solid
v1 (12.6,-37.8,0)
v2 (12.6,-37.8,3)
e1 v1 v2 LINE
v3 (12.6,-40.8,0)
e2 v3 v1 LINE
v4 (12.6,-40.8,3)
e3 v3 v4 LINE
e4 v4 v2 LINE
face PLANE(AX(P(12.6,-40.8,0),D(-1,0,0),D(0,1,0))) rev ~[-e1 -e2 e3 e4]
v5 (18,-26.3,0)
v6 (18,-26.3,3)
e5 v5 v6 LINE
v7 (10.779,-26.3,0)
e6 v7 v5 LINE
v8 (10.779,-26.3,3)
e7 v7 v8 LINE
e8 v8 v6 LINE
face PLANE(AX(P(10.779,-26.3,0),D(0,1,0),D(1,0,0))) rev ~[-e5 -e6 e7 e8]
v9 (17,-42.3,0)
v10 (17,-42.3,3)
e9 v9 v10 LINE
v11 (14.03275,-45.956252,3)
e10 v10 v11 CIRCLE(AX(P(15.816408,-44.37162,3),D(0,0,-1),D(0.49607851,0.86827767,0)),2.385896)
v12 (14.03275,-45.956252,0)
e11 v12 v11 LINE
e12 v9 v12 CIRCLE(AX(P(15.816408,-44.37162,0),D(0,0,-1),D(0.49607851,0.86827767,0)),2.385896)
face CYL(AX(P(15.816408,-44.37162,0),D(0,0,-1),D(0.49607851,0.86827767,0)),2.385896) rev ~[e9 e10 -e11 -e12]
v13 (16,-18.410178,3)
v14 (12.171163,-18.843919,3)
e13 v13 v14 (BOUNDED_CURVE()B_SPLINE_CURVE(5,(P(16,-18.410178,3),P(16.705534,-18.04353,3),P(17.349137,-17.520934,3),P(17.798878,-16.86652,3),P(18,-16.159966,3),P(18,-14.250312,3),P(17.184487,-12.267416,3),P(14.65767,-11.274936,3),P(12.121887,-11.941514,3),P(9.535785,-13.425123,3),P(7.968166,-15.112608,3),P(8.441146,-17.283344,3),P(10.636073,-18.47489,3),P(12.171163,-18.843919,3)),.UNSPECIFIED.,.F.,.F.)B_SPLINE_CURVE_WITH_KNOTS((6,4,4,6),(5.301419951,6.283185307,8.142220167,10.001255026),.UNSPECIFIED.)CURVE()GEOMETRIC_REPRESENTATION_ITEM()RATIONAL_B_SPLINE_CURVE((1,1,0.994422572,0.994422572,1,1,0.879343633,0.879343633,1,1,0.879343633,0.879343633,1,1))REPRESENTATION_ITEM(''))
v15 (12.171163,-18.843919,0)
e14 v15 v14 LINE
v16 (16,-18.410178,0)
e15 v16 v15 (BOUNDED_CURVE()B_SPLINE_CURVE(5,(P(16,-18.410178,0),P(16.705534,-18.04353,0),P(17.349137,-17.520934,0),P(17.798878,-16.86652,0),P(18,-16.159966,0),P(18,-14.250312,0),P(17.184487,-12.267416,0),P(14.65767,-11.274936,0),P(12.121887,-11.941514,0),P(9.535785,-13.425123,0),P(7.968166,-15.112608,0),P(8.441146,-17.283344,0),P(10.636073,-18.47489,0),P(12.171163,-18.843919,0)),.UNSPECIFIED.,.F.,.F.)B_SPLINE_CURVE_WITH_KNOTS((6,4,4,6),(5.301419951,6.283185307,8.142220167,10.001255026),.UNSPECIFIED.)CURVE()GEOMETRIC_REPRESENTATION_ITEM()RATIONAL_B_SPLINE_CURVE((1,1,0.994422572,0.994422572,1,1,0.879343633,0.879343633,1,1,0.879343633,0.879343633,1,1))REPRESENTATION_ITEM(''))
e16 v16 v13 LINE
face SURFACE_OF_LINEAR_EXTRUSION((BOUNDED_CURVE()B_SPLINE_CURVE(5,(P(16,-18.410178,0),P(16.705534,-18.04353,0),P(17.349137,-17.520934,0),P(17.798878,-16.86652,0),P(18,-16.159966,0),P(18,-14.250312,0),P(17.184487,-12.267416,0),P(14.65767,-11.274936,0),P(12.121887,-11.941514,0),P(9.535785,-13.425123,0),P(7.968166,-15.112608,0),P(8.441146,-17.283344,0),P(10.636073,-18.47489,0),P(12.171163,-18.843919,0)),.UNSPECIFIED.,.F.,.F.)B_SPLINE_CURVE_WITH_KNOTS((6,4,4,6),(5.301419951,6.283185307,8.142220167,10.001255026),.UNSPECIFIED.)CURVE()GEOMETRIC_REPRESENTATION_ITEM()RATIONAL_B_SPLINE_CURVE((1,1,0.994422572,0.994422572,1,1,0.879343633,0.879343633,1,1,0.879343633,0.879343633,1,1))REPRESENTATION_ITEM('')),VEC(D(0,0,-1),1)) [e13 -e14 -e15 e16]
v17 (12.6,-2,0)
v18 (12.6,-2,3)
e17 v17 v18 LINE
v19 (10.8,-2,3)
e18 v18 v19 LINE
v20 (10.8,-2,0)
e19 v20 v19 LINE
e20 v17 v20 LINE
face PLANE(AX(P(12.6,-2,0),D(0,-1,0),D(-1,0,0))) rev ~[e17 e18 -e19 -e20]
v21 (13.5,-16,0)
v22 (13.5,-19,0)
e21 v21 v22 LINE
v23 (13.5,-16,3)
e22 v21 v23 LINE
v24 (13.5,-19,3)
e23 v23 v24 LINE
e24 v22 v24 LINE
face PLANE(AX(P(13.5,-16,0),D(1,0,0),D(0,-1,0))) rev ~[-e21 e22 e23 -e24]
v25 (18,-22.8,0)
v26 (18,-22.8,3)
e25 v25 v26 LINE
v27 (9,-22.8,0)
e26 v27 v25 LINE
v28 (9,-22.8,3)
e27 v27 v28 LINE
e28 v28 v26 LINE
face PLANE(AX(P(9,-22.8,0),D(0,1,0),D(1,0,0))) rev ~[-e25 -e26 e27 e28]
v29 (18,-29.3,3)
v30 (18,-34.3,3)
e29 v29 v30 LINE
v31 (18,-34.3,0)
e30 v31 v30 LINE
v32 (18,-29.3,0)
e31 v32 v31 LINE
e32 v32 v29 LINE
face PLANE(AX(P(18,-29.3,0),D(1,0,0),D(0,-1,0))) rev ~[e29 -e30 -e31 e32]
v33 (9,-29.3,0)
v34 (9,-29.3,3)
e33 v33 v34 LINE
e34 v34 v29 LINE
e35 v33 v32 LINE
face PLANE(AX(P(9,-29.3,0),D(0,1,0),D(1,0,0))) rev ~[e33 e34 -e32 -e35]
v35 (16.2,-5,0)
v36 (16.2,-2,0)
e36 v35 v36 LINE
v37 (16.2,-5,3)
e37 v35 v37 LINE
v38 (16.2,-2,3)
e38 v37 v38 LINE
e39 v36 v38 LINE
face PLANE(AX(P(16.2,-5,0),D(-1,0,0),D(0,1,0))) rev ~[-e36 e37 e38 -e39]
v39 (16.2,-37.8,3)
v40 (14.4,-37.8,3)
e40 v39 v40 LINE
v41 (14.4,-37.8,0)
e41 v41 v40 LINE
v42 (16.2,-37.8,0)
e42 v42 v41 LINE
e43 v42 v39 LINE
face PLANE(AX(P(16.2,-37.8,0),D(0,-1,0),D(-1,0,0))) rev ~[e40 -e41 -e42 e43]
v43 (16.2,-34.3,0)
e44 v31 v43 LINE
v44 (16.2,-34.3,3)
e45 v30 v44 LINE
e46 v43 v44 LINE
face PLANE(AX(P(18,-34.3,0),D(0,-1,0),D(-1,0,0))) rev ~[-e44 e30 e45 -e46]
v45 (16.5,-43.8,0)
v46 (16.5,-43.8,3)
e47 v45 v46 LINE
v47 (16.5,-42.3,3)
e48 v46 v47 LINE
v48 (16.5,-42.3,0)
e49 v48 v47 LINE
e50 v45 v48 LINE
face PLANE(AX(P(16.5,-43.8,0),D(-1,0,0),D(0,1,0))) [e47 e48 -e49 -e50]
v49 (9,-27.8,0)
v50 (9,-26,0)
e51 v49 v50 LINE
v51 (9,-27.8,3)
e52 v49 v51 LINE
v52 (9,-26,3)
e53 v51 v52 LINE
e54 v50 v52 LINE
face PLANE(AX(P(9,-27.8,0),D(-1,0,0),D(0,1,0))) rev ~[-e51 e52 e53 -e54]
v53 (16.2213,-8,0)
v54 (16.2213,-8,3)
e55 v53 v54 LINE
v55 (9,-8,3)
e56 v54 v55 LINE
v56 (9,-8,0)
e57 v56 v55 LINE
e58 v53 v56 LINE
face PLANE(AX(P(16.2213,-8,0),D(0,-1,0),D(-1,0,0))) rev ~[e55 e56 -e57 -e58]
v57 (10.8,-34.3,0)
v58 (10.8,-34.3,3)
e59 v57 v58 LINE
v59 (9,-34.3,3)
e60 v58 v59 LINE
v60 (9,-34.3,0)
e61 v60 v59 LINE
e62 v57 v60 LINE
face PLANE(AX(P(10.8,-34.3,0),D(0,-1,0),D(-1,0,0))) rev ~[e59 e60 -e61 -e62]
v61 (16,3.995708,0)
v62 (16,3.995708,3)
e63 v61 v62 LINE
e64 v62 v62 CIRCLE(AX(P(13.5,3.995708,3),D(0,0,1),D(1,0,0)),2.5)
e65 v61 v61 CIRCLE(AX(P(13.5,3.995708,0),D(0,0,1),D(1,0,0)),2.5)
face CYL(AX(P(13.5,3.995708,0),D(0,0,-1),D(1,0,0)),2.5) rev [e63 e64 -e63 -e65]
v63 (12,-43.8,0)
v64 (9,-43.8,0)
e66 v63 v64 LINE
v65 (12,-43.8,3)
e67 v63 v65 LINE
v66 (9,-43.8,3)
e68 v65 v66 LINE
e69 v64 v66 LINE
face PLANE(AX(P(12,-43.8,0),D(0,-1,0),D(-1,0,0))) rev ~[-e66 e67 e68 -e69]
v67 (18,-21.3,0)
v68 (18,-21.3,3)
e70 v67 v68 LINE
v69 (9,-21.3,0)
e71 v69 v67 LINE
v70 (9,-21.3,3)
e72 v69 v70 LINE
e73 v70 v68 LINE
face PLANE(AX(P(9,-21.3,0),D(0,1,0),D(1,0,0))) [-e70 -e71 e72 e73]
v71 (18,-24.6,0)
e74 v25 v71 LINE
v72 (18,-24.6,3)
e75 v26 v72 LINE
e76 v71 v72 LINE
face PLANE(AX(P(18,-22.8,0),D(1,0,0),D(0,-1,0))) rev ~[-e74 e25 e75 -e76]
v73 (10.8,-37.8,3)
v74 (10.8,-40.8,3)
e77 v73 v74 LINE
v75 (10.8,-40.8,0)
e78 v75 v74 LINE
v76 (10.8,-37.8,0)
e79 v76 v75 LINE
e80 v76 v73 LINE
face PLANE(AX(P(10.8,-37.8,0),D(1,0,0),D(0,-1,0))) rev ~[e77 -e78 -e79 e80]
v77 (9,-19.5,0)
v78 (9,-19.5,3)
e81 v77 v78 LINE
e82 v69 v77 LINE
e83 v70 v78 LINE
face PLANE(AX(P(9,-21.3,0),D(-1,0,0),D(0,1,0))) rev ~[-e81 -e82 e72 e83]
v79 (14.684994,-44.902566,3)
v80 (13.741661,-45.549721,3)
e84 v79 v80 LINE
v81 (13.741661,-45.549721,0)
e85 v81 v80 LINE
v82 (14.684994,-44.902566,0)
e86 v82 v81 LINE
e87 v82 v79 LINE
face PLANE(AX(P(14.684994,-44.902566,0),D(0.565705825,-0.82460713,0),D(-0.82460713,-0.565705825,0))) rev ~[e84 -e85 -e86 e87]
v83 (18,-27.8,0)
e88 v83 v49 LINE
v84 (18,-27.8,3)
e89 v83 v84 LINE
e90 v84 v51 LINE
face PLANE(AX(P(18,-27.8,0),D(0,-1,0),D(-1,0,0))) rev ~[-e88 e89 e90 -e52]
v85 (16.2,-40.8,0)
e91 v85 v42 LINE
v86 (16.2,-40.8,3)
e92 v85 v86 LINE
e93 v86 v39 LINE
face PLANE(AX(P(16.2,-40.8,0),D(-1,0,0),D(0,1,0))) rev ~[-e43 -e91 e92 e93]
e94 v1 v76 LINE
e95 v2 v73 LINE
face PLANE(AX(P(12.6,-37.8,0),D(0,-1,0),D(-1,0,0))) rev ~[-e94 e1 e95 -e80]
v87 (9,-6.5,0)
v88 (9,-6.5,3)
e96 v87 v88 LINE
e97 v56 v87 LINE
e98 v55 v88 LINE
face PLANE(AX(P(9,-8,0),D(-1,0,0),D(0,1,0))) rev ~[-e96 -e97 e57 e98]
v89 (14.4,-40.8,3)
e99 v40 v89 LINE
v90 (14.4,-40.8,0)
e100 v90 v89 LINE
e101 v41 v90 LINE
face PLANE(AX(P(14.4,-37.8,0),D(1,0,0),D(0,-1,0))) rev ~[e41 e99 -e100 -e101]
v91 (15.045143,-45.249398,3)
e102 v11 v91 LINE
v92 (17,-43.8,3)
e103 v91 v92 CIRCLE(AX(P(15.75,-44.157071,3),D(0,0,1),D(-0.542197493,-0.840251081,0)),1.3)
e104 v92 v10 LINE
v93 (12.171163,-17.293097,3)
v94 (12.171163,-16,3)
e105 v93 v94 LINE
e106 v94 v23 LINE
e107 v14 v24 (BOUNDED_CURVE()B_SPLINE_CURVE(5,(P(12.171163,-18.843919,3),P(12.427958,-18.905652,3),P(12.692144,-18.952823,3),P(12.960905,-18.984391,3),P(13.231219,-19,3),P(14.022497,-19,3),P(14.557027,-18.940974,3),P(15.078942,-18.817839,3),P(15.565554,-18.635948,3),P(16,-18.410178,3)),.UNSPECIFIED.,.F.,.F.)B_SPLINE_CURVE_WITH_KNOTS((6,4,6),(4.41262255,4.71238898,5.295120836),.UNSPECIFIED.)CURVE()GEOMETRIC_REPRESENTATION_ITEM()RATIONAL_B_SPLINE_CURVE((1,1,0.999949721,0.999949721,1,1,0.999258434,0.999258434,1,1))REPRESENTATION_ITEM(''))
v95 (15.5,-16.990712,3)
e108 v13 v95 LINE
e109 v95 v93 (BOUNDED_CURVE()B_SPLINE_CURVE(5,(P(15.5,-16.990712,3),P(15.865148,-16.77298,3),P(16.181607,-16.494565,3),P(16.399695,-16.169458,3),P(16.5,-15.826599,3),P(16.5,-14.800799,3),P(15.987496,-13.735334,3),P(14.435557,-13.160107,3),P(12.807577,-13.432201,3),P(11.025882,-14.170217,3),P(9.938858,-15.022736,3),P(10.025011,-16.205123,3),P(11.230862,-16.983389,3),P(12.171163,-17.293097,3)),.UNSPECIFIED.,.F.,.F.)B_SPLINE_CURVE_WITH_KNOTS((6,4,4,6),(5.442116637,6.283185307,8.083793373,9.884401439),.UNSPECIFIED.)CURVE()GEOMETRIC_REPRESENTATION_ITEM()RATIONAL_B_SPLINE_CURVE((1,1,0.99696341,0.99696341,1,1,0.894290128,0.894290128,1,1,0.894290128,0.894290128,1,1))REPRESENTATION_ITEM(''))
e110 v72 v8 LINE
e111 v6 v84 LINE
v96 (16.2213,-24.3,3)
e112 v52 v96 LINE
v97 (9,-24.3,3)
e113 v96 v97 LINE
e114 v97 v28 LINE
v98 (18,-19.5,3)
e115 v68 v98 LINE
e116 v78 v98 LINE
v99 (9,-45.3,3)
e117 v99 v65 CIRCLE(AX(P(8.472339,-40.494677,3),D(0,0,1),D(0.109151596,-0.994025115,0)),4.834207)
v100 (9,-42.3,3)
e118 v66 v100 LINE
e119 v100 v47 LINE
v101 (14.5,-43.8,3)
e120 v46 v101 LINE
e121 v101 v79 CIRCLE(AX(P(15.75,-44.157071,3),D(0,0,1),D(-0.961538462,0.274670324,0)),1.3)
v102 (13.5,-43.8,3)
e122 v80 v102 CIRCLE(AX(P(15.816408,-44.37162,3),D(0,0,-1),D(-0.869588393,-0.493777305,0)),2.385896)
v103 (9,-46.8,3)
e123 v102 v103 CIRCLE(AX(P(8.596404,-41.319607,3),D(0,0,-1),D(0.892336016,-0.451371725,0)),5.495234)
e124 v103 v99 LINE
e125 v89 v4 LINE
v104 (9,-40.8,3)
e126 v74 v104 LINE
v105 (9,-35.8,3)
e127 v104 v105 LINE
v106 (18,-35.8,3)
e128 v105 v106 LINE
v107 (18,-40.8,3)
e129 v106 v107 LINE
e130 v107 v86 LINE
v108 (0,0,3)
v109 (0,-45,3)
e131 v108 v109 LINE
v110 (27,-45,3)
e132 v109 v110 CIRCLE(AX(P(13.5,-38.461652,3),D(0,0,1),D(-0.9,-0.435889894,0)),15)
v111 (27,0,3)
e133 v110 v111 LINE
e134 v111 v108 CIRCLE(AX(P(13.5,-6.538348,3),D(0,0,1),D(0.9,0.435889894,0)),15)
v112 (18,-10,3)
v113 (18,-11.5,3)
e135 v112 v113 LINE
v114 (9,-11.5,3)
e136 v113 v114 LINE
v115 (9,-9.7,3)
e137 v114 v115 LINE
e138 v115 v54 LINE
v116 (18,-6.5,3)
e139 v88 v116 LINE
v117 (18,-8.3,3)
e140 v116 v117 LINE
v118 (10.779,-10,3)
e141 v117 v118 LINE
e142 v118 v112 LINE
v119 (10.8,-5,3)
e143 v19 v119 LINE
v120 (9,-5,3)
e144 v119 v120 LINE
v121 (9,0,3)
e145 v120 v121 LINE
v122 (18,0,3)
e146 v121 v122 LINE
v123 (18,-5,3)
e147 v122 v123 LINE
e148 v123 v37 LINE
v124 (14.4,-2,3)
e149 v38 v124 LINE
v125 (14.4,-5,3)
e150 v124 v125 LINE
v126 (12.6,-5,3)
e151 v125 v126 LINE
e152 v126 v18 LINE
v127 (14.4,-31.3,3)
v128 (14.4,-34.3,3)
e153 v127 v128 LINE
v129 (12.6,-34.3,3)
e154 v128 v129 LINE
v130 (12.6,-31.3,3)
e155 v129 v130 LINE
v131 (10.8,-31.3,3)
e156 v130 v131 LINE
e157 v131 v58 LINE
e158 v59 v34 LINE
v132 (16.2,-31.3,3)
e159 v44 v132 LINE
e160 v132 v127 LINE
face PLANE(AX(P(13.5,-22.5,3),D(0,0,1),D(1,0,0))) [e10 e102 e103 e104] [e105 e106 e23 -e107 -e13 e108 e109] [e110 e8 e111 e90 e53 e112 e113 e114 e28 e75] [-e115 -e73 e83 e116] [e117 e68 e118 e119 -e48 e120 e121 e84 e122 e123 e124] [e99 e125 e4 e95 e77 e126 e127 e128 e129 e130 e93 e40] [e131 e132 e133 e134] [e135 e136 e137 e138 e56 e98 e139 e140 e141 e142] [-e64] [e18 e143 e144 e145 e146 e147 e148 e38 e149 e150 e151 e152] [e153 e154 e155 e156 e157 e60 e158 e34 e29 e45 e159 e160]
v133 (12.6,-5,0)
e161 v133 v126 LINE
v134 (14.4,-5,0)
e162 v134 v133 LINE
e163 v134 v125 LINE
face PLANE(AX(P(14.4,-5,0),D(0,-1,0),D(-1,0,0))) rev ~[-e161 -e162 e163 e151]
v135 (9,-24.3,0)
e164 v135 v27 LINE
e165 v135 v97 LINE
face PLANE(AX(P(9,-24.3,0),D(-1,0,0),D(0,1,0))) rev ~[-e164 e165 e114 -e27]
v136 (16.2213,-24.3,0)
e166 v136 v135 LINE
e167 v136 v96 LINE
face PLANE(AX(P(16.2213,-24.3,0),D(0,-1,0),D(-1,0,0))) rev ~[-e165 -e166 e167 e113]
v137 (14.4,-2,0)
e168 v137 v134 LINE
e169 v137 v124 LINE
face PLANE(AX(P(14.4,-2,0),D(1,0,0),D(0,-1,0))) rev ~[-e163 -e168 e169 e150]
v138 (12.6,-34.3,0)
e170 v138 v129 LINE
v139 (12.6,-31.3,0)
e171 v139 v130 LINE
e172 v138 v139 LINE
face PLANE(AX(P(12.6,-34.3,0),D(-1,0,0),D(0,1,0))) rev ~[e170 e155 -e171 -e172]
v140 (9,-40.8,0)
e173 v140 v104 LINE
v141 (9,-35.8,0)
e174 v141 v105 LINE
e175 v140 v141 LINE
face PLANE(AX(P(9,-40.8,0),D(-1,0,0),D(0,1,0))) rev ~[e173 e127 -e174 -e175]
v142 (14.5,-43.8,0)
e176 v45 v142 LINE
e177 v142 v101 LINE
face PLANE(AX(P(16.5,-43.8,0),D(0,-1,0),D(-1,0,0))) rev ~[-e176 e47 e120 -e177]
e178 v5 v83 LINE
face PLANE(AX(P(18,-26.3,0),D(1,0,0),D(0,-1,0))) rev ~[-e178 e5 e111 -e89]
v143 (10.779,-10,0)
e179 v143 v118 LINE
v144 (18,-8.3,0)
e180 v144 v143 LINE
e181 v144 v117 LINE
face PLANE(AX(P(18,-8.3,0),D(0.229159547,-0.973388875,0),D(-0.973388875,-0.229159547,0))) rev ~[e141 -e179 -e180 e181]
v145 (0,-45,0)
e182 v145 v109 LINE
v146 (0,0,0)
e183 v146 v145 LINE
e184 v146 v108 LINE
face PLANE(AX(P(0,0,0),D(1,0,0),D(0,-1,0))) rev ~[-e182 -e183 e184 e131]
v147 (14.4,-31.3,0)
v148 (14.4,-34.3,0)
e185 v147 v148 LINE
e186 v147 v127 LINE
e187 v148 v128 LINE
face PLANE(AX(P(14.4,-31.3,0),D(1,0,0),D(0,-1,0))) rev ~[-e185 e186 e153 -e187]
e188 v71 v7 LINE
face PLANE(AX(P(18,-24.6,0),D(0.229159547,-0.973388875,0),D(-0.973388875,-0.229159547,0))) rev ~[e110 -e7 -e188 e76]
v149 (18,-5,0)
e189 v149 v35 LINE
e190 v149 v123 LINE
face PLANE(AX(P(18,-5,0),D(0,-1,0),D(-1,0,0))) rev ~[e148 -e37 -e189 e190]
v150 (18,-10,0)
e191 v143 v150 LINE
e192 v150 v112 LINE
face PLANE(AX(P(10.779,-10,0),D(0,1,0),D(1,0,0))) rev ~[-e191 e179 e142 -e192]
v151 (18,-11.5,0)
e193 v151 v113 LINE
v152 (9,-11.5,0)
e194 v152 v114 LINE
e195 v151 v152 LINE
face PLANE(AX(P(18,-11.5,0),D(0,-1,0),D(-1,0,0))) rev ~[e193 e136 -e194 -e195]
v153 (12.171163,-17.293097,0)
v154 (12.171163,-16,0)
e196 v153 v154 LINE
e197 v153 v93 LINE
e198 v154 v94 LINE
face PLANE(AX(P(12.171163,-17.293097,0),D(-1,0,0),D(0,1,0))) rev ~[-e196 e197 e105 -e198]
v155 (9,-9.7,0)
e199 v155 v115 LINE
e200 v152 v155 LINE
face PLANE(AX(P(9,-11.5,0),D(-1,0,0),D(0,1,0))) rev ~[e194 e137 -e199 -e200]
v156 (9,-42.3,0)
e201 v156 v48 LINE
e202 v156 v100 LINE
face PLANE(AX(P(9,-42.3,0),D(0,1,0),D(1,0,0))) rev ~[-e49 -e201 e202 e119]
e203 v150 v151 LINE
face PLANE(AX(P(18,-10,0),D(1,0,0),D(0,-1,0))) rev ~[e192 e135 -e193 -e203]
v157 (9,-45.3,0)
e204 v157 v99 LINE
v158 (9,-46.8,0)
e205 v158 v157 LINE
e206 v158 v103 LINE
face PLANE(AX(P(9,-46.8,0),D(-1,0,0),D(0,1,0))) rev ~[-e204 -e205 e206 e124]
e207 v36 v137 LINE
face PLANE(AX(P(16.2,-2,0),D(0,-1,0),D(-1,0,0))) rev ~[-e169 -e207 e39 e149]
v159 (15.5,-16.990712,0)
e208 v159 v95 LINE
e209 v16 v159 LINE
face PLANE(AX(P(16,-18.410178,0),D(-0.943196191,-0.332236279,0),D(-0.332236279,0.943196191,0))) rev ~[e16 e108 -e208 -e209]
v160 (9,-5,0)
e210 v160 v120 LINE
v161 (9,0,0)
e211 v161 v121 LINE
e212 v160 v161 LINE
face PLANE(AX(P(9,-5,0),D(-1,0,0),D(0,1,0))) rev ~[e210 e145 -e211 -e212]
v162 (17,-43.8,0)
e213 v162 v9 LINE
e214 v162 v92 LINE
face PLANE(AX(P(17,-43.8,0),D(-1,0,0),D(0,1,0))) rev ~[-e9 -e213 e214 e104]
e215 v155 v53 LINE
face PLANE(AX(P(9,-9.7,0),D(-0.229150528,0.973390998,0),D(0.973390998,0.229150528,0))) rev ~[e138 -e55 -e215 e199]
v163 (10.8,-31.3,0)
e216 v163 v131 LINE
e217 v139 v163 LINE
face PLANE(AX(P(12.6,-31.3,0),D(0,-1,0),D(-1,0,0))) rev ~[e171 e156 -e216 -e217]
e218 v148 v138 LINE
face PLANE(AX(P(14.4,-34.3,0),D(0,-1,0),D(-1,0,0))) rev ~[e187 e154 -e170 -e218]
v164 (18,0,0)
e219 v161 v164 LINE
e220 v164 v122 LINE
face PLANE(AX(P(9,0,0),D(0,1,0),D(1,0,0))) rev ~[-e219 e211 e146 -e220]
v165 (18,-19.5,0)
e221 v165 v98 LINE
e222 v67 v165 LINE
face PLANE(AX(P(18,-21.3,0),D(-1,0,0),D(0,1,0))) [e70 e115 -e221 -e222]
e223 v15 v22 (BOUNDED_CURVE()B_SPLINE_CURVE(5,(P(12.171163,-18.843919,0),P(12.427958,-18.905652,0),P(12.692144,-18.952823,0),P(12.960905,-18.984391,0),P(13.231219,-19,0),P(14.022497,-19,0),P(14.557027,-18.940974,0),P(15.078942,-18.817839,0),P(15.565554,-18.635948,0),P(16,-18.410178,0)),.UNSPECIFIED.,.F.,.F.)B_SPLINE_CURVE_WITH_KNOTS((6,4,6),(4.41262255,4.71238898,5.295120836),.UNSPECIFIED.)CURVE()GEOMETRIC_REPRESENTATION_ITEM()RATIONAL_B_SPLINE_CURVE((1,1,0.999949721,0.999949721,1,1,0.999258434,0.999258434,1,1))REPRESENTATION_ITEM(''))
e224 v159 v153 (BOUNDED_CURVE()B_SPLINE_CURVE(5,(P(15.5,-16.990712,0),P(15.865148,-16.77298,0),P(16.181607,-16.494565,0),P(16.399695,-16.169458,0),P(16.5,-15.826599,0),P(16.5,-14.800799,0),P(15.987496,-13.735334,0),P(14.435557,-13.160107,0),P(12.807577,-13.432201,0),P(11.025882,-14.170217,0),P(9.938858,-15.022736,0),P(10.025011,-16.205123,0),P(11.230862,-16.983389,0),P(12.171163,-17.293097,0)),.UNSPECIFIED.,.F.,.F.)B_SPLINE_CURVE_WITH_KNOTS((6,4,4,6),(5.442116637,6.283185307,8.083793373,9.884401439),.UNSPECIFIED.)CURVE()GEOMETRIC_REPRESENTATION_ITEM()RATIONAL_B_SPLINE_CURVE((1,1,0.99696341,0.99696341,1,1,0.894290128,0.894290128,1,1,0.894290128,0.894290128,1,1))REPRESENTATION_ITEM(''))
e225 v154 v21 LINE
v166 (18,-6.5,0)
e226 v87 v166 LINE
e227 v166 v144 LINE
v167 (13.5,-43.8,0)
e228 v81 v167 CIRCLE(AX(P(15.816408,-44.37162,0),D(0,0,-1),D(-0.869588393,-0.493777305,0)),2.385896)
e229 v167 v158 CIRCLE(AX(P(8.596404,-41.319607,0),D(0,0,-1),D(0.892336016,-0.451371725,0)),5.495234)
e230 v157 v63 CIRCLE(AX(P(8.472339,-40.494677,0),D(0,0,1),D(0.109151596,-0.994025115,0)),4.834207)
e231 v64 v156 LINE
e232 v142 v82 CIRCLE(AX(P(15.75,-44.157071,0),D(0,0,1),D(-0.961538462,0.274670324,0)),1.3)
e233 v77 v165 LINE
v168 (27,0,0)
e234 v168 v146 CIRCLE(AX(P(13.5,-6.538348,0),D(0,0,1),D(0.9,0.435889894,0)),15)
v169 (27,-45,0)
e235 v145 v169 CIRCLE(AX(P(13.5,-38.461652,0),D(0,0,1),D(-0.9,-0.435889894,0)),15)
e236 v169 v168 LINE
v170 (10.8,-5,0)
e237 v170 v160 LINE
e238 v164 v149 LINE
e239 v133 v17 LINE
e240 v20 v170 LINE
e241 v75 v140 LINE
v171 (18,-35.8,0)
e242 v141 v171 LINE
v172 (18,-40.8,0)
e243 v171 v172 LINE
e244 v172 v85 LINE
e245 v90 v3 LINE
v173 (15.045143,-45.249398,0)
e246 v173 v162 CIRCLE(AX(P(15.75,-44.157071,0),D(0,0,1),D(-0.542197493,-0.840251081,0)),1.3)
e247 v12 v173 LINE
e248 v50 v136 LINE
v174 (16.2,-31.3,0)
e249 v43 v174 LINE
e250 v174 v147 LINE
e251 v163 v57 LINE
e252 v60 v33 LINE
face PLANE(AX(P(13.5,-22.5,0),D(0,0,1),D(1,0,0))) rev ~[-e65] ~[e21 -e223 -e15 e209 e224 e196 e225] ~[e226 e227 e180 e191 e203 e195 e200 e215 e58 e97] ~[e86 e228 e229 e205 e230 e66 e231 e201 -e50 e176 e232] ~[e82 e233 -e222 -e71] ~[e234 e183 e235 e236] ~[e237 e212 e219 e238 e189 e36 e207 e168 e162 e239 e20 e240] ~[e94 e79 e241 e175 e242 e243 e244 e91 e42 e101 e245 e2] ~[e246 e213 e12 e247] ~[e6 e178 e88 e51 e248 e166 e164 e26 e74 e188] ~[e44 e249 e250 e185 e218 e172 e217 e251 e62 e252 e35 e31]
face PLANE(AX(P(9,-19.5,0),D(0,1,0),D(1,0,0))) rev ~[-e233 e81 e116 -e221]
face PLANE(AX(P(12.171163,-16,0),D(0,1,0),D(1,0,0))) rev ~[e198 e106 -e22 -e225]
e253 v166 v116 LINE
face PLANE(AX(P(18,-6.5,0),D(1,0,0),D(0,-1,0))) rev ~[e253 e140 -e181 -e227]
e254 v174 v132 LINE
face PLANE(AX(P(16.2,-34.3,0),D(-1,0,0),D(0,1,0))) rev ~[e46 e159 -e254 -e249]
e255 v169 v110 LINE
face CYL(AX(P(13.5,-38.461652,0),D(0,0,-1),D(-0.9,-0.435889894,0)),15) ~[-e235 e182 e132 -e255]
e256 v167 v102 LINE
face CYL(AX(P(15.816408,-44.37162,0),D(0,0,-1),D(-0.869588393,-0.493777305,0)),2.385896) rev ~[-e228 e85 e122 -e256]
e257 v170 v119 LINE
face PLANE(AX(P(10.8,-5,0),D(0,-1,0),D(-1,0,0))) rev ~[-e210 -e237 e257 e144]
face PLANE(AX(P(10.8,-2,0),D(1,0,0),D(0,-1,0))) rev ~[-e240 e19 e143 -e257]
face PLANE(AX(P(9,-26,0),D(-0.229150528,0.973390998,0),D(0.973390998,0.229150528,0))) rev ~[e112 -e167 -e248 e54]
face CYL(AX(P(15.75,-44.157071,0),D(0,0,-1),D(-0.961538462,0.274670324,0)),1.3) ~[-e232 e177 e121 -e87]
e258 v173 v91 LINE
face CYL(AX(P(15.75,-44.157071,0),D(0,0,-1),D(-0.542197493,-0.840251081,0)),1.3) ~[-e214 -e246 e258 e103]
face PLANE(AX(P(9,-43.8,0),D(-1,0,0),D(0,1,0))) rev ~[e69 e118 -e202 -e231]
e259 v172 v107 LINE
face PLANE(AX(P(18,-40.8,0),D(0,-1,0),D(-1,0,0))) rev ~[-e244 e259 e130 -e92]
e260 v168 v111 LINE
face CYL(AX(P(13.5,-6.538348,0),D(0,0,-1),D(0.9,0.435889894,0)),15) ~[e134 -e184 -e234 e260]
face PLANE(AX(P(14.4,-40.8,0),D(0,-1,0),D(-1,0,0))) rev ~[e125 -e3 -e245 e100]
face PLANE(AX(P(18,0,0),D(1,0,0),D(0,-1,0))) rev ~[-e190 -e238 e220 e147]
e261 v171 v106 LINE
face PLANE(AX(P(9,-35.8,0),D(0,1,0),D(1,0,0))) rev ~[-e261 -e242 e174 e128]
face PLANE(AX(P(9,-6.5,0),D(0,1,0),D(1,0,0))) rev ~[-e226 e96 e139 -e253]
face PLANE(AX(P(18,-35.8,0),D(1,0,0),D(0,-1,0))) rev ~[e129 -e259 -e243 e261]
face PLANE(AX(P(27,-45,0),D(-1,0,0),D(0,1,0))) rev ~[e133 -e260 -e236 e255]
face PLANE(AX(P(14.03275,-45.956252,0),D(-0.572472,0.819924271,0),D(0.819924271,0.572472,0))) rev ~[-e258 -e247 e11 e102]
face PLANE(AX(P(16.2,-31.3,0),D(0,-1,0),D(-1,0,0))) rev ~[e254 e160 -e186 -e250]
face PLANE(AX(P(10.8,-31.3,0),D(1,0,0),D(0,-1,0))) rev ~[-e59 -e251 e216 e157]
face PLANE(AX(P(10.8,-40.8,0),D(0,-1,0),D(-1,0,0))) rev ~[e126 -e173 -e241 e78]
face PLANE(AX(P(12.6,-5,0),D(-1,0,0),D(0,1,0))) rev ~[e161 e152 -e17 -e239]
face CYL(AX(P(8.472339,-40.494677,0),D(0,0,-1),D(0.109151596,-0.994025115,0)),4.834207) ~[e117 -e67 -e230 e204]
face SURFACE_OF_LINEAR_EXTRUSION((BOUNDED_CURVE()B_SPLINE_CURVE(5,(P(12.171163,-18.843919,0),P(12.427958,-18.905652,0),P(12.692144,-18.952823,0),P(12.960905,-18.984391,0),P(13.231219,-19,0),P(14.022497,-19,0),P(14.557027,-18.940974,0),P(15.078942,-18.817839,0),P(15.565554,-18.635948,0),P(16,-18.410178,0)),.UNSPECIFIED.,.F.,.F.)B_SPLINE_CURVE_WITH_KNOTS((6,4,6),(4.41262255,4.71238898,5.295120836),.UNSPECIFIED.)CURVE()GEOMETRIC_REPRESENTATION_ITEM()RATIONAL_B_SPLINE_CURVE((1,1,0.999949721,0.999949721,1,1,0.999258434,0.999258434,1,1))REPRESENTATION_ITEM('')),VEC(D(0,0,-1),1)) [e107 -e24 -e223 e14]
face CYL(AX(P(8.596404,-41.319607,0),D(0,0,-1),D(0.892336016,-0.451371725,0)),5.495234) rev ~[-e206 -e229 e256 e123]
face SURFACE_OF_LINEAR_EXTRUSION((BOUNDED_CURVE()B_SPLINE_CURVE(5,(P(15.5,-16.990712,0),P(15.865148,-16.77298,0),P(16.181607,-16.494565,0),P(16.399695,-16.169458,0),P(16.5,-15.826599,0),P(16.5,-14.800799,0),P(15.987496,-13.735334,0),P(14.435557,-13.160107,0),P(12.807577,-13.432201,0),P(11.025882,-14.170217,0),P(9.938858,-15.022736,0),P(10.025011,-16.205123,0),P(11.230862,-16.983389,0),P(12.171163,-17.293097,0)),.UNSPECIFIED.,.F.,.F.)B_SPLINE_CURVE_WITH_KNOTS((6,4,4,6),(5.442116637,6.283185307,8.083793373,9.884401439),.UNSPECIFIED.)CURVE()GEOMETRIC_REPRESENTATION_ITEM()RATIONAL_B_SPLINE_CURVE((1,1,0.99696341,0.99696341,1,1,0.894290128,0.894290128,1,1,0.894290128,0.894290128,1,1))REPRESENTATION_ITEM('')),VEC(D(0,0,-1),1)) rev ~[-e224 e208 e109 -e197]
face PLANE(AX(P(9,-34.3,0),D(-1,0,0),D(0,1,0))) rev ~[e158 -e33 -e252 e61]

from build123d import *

# Parameters (mm, degrees)
F0_W     = 9
F0_H     = 1.8
F0_R     = 2.5
F0_W_2   = 0.5
F0_H_2   = 1.5
F1_DEPTH = 3


with BuildPart() as f1:
    # F0 (on Top) → F1 (new body)
    with BuildSketch(Plane.XY):
        with BuildLine():
            ThreePointArc((27, 0), (13.5, 8.4616515847), (0, 0))
            Line((0, 0), (0, -45))
            ThreePointArc((0, -45), (13.5, -53.4616515847), (27, -45))
            Line((27, -45), (27, 0))
        make_face()
        with BuildLine():
            Line((9, -43.8), (9, -42.3))
            Line((9, -42.3), (16.5, -42.3))
            Line((16.5, -42.3), (17, -42.3))
            ThreePointArc((17, -42.3), (17.66899179, -45.8750933579), (14.0327498007, -45.9562520189))
            ThreePointArc((14.0327498007, -45.9562520189), (13.8765268876, -45.76063274), (13.7416614246, -45.5497208918))
            ThreePointArc((13.7416614246, -45.5497208918), (13.452948616, -44.6980473592), (13.5, -43.8))
            ThreePointArc((13.5, -43.8), (11.6446119997, -45.8919179995), (9, -46.8))
            Line((9, -46.8), (9, -45.3))
            ThreePointArc((9, -45.3), (10.6342615319, -44.8185230639), (12, -43.8))
            Line((12, -43.8), (9, -43.8))
        make_face(mode=Mode.SUBTRACT)
        Polygon((9, -35.8), (18, -35.8), (18, -40.8), (16.2, -40.8), (16.2, -37.8), (14.4, -37.8), (14.4, -40.8), (12.6, -40.8), (12.6, -37.8), (10.8, -37.8), (10.8, -40.8), (9, -40.8), align=None, mode=Mode.SUBTRACT)
        Polygon((9, -34.3), (9, -29.3), (18, -29.3), (18, -34.3), (16.2, -34.3), (16.2, -31.3), (14.4, -31.3), (14.4, -34.3), (12.6, -34.3), (12.6, -31.3), (10.8, -31.3), (10.8, -34.3), align=None, mode=Mode.SUBTRACT)
        Polygon((9, -24.3), (9, -22.8), (18, -22.8), (18, -24.6), (10.779, -26.3), (18, -26.3), (18, -27.8), (9, -27.8), (9, -26), (16.2212999509, -24.3), align=None, mode=Mode.SUBTRACT)
        with Locations((13.5, -20.4)):
            Rectangle(F0_W, F0_H, mode=Mode.SUBTRACT)
        with BuildLine():
            add(Edge.make_bspline(
                [(18, -15.5), (18, -8.5693256297), (10.8288359741, -12.6833185304), (3.6576719482, -16.7973114311), (12.1711632237, -18.8439192062)],
                knots=[0, 0, 0, 2.2063112748, 2.2063112748, 4.4126225496, 4.4126225496, 4.4126225496], degree=2, weights=[1, 0.4507815404, 1, 0.4507815404, 1]))
            add(Edge.make_bspline(
                [(16, -18.4101779675), (18, -17.3708286934), (18, -15.5)],
                knots=[5.3014199506, 5.3014199506, 5.3014199506, 6.2831853072, 6.2831853072, 6.2831853072], degree=2, weights=[1, 0.8819171037, 1]))
            add(Edge.make_bspline(
                [(13.5, -19), (14.8650167038, -19), (16, -18.4101779675)],
                knots=[4.7123889804, 4.7123889804, 4.7123889804, 5.3014199506, 5.3014199506, 5.3014199506], degree=2, weights=[1, 0.9569428978, 1]))
            add(Edge.make_bspline(
                [(12.1711632237, -18.8439192062), (12.8204290441, -19), (13.5, -19)],
                knots=[4.4126225496, 4.4126225496, 4.4126225496, 4.7123889804, 4.7123889804, 4.7123889804], degree=2, weights=[1, 0.9887885233, 1]))
        make_face(mode=Mode.SUBTRACT)
        Polygon((9, -8), (9, -6.5), (18, -6.5), (18, -8.3), (10.779, -10), (18, -10), (18, -11.5), (9, -11.5), (9, -9.7), (16.2212999509, -8), align=None, mode=Mode.SUBTRACT)
        Polygon((9, -5), (9, 0), (18, 0), (18, -5), (16.2, -5), (16.2, -2), (14.4, -2), (14.4, -5), (12.6, -5), (12.6, -2), (10.8, -2), (10.8, -5), align=None, mode=Mode.SUBTRACT)
        with Locations((13.5, 3.9957081899)):
            Circle(F0_R, mode=Mode.SUBTRACT)
        with BuildLine():
            add(Edge.make_bspline(
                [(16.5, -15.5), (16.5, -11.9027200979), (11.9167297023, -13.8012089051), (7.3334594046, -15.6996977122), (12.1711632237, -17.2930969884)],
                knots=[0, 0, 0, 2.1267537417, 2.1267537417, 4.2535074833, 4.2535074833, 4.2535074833], degree=2, weights=[1, 0.4859234683, 1, 0.4859234683, 1]))
            Line((12.1711632237, -17.2930969884), (12.1711632237, -16))
            Line((12.1711632237, -16), (13.5, -16))
            Line((13.5, -16), (13.5, -17.5))
            add(Edge.make_bspline(
                [(13.5, -17.5), (14.6458980338, -17.5), (15.5, -16.990711985)],
                knots=[4.7123889804, 4.7123889804, 4.7123889804, 5.4421166366, 5.4421166366, 5.4421166366], degree=2, weights=[1, 0.934172359, 1]))
            add(Edge.make_bspline(
                [(15.5, -16.990711985), (16.5, -16.394427191), (16.5, -15.5)],
                knots=[5.4421166366, 5.4421166366, 5.4421166366, 6.2831853072, 6.2831853072, 6.2831853072], degree=2, weights=[1, 0.9128709292, 1]))
        make_face()
        with BuildLine():
            add(Edge.make_bspline(
                [(13.5, -19), (14.8650167038, -19), (16, -18.4101779675)],
                knots=[4.7123889804, 4.7123889804, 4.7123889804, 5.3014199506, 5.3014199506, 5.3014199506], degree=2, weights=[1, 0.9569428978, 1]))
            Line((16, -18.4101779675), (15.5, -16.990711985))
            add(Edge.make_bspline(
                [(13.5, -17.5), (14.6458980338, -17.5), (15.5, -16.990711985)],
                knots=[4.7123889804, 4.7123889804, 4.7123889804, 5.4421166366, 5.4421166366, 5.4421166366], degree=2, weights=[1, 0.934172359, 1]))
            Line((13.5, -17.5), (13.5, -19))
        make_face()
        with BuildLine():
            Line((17, -43.8), (16.5, -43.8))
            Line((16.5, -43.8), (14.5, -43.8))
            ThreePointArc((14.5, -43.8), (14.467921138, -44.3721848606), (14.6849938716, -44.9025658523))
            ThreePointArc((14.6849938716, -44.9025658523), (14.8482368669, -45.09345983), (15.0451432596, -45.2493978266))
            ThreePointArc((15.0451432596, -45.2493978266), (16.5242633972, -45.201349254), (17, -43.8))
        make_face()
        with Locations((16.75, -43.05)):
            Rectangle(F0_W_2, F0_H_2)
        with BuildLine():
            ThreePointArc((13.7416614246, -45.5497208918), (13.8765268876, -45.76063274), (14.0327498007, -45.9562520189))
            Line((14.0327498007, -45.9562520189), (15.0451432596, -45.2493978266))
            ThreePointArc((15.0451432596, -45.2493978266), (14.8482368669, -45.09345983), (14.6849938716, -44.9025658523))
            Line((14.6849938716, -44.9025658523), (13.7416614246, -45.5497208918))
        make_face()
    extrude(amount=F1_DEPTH)


solid = f1.part
